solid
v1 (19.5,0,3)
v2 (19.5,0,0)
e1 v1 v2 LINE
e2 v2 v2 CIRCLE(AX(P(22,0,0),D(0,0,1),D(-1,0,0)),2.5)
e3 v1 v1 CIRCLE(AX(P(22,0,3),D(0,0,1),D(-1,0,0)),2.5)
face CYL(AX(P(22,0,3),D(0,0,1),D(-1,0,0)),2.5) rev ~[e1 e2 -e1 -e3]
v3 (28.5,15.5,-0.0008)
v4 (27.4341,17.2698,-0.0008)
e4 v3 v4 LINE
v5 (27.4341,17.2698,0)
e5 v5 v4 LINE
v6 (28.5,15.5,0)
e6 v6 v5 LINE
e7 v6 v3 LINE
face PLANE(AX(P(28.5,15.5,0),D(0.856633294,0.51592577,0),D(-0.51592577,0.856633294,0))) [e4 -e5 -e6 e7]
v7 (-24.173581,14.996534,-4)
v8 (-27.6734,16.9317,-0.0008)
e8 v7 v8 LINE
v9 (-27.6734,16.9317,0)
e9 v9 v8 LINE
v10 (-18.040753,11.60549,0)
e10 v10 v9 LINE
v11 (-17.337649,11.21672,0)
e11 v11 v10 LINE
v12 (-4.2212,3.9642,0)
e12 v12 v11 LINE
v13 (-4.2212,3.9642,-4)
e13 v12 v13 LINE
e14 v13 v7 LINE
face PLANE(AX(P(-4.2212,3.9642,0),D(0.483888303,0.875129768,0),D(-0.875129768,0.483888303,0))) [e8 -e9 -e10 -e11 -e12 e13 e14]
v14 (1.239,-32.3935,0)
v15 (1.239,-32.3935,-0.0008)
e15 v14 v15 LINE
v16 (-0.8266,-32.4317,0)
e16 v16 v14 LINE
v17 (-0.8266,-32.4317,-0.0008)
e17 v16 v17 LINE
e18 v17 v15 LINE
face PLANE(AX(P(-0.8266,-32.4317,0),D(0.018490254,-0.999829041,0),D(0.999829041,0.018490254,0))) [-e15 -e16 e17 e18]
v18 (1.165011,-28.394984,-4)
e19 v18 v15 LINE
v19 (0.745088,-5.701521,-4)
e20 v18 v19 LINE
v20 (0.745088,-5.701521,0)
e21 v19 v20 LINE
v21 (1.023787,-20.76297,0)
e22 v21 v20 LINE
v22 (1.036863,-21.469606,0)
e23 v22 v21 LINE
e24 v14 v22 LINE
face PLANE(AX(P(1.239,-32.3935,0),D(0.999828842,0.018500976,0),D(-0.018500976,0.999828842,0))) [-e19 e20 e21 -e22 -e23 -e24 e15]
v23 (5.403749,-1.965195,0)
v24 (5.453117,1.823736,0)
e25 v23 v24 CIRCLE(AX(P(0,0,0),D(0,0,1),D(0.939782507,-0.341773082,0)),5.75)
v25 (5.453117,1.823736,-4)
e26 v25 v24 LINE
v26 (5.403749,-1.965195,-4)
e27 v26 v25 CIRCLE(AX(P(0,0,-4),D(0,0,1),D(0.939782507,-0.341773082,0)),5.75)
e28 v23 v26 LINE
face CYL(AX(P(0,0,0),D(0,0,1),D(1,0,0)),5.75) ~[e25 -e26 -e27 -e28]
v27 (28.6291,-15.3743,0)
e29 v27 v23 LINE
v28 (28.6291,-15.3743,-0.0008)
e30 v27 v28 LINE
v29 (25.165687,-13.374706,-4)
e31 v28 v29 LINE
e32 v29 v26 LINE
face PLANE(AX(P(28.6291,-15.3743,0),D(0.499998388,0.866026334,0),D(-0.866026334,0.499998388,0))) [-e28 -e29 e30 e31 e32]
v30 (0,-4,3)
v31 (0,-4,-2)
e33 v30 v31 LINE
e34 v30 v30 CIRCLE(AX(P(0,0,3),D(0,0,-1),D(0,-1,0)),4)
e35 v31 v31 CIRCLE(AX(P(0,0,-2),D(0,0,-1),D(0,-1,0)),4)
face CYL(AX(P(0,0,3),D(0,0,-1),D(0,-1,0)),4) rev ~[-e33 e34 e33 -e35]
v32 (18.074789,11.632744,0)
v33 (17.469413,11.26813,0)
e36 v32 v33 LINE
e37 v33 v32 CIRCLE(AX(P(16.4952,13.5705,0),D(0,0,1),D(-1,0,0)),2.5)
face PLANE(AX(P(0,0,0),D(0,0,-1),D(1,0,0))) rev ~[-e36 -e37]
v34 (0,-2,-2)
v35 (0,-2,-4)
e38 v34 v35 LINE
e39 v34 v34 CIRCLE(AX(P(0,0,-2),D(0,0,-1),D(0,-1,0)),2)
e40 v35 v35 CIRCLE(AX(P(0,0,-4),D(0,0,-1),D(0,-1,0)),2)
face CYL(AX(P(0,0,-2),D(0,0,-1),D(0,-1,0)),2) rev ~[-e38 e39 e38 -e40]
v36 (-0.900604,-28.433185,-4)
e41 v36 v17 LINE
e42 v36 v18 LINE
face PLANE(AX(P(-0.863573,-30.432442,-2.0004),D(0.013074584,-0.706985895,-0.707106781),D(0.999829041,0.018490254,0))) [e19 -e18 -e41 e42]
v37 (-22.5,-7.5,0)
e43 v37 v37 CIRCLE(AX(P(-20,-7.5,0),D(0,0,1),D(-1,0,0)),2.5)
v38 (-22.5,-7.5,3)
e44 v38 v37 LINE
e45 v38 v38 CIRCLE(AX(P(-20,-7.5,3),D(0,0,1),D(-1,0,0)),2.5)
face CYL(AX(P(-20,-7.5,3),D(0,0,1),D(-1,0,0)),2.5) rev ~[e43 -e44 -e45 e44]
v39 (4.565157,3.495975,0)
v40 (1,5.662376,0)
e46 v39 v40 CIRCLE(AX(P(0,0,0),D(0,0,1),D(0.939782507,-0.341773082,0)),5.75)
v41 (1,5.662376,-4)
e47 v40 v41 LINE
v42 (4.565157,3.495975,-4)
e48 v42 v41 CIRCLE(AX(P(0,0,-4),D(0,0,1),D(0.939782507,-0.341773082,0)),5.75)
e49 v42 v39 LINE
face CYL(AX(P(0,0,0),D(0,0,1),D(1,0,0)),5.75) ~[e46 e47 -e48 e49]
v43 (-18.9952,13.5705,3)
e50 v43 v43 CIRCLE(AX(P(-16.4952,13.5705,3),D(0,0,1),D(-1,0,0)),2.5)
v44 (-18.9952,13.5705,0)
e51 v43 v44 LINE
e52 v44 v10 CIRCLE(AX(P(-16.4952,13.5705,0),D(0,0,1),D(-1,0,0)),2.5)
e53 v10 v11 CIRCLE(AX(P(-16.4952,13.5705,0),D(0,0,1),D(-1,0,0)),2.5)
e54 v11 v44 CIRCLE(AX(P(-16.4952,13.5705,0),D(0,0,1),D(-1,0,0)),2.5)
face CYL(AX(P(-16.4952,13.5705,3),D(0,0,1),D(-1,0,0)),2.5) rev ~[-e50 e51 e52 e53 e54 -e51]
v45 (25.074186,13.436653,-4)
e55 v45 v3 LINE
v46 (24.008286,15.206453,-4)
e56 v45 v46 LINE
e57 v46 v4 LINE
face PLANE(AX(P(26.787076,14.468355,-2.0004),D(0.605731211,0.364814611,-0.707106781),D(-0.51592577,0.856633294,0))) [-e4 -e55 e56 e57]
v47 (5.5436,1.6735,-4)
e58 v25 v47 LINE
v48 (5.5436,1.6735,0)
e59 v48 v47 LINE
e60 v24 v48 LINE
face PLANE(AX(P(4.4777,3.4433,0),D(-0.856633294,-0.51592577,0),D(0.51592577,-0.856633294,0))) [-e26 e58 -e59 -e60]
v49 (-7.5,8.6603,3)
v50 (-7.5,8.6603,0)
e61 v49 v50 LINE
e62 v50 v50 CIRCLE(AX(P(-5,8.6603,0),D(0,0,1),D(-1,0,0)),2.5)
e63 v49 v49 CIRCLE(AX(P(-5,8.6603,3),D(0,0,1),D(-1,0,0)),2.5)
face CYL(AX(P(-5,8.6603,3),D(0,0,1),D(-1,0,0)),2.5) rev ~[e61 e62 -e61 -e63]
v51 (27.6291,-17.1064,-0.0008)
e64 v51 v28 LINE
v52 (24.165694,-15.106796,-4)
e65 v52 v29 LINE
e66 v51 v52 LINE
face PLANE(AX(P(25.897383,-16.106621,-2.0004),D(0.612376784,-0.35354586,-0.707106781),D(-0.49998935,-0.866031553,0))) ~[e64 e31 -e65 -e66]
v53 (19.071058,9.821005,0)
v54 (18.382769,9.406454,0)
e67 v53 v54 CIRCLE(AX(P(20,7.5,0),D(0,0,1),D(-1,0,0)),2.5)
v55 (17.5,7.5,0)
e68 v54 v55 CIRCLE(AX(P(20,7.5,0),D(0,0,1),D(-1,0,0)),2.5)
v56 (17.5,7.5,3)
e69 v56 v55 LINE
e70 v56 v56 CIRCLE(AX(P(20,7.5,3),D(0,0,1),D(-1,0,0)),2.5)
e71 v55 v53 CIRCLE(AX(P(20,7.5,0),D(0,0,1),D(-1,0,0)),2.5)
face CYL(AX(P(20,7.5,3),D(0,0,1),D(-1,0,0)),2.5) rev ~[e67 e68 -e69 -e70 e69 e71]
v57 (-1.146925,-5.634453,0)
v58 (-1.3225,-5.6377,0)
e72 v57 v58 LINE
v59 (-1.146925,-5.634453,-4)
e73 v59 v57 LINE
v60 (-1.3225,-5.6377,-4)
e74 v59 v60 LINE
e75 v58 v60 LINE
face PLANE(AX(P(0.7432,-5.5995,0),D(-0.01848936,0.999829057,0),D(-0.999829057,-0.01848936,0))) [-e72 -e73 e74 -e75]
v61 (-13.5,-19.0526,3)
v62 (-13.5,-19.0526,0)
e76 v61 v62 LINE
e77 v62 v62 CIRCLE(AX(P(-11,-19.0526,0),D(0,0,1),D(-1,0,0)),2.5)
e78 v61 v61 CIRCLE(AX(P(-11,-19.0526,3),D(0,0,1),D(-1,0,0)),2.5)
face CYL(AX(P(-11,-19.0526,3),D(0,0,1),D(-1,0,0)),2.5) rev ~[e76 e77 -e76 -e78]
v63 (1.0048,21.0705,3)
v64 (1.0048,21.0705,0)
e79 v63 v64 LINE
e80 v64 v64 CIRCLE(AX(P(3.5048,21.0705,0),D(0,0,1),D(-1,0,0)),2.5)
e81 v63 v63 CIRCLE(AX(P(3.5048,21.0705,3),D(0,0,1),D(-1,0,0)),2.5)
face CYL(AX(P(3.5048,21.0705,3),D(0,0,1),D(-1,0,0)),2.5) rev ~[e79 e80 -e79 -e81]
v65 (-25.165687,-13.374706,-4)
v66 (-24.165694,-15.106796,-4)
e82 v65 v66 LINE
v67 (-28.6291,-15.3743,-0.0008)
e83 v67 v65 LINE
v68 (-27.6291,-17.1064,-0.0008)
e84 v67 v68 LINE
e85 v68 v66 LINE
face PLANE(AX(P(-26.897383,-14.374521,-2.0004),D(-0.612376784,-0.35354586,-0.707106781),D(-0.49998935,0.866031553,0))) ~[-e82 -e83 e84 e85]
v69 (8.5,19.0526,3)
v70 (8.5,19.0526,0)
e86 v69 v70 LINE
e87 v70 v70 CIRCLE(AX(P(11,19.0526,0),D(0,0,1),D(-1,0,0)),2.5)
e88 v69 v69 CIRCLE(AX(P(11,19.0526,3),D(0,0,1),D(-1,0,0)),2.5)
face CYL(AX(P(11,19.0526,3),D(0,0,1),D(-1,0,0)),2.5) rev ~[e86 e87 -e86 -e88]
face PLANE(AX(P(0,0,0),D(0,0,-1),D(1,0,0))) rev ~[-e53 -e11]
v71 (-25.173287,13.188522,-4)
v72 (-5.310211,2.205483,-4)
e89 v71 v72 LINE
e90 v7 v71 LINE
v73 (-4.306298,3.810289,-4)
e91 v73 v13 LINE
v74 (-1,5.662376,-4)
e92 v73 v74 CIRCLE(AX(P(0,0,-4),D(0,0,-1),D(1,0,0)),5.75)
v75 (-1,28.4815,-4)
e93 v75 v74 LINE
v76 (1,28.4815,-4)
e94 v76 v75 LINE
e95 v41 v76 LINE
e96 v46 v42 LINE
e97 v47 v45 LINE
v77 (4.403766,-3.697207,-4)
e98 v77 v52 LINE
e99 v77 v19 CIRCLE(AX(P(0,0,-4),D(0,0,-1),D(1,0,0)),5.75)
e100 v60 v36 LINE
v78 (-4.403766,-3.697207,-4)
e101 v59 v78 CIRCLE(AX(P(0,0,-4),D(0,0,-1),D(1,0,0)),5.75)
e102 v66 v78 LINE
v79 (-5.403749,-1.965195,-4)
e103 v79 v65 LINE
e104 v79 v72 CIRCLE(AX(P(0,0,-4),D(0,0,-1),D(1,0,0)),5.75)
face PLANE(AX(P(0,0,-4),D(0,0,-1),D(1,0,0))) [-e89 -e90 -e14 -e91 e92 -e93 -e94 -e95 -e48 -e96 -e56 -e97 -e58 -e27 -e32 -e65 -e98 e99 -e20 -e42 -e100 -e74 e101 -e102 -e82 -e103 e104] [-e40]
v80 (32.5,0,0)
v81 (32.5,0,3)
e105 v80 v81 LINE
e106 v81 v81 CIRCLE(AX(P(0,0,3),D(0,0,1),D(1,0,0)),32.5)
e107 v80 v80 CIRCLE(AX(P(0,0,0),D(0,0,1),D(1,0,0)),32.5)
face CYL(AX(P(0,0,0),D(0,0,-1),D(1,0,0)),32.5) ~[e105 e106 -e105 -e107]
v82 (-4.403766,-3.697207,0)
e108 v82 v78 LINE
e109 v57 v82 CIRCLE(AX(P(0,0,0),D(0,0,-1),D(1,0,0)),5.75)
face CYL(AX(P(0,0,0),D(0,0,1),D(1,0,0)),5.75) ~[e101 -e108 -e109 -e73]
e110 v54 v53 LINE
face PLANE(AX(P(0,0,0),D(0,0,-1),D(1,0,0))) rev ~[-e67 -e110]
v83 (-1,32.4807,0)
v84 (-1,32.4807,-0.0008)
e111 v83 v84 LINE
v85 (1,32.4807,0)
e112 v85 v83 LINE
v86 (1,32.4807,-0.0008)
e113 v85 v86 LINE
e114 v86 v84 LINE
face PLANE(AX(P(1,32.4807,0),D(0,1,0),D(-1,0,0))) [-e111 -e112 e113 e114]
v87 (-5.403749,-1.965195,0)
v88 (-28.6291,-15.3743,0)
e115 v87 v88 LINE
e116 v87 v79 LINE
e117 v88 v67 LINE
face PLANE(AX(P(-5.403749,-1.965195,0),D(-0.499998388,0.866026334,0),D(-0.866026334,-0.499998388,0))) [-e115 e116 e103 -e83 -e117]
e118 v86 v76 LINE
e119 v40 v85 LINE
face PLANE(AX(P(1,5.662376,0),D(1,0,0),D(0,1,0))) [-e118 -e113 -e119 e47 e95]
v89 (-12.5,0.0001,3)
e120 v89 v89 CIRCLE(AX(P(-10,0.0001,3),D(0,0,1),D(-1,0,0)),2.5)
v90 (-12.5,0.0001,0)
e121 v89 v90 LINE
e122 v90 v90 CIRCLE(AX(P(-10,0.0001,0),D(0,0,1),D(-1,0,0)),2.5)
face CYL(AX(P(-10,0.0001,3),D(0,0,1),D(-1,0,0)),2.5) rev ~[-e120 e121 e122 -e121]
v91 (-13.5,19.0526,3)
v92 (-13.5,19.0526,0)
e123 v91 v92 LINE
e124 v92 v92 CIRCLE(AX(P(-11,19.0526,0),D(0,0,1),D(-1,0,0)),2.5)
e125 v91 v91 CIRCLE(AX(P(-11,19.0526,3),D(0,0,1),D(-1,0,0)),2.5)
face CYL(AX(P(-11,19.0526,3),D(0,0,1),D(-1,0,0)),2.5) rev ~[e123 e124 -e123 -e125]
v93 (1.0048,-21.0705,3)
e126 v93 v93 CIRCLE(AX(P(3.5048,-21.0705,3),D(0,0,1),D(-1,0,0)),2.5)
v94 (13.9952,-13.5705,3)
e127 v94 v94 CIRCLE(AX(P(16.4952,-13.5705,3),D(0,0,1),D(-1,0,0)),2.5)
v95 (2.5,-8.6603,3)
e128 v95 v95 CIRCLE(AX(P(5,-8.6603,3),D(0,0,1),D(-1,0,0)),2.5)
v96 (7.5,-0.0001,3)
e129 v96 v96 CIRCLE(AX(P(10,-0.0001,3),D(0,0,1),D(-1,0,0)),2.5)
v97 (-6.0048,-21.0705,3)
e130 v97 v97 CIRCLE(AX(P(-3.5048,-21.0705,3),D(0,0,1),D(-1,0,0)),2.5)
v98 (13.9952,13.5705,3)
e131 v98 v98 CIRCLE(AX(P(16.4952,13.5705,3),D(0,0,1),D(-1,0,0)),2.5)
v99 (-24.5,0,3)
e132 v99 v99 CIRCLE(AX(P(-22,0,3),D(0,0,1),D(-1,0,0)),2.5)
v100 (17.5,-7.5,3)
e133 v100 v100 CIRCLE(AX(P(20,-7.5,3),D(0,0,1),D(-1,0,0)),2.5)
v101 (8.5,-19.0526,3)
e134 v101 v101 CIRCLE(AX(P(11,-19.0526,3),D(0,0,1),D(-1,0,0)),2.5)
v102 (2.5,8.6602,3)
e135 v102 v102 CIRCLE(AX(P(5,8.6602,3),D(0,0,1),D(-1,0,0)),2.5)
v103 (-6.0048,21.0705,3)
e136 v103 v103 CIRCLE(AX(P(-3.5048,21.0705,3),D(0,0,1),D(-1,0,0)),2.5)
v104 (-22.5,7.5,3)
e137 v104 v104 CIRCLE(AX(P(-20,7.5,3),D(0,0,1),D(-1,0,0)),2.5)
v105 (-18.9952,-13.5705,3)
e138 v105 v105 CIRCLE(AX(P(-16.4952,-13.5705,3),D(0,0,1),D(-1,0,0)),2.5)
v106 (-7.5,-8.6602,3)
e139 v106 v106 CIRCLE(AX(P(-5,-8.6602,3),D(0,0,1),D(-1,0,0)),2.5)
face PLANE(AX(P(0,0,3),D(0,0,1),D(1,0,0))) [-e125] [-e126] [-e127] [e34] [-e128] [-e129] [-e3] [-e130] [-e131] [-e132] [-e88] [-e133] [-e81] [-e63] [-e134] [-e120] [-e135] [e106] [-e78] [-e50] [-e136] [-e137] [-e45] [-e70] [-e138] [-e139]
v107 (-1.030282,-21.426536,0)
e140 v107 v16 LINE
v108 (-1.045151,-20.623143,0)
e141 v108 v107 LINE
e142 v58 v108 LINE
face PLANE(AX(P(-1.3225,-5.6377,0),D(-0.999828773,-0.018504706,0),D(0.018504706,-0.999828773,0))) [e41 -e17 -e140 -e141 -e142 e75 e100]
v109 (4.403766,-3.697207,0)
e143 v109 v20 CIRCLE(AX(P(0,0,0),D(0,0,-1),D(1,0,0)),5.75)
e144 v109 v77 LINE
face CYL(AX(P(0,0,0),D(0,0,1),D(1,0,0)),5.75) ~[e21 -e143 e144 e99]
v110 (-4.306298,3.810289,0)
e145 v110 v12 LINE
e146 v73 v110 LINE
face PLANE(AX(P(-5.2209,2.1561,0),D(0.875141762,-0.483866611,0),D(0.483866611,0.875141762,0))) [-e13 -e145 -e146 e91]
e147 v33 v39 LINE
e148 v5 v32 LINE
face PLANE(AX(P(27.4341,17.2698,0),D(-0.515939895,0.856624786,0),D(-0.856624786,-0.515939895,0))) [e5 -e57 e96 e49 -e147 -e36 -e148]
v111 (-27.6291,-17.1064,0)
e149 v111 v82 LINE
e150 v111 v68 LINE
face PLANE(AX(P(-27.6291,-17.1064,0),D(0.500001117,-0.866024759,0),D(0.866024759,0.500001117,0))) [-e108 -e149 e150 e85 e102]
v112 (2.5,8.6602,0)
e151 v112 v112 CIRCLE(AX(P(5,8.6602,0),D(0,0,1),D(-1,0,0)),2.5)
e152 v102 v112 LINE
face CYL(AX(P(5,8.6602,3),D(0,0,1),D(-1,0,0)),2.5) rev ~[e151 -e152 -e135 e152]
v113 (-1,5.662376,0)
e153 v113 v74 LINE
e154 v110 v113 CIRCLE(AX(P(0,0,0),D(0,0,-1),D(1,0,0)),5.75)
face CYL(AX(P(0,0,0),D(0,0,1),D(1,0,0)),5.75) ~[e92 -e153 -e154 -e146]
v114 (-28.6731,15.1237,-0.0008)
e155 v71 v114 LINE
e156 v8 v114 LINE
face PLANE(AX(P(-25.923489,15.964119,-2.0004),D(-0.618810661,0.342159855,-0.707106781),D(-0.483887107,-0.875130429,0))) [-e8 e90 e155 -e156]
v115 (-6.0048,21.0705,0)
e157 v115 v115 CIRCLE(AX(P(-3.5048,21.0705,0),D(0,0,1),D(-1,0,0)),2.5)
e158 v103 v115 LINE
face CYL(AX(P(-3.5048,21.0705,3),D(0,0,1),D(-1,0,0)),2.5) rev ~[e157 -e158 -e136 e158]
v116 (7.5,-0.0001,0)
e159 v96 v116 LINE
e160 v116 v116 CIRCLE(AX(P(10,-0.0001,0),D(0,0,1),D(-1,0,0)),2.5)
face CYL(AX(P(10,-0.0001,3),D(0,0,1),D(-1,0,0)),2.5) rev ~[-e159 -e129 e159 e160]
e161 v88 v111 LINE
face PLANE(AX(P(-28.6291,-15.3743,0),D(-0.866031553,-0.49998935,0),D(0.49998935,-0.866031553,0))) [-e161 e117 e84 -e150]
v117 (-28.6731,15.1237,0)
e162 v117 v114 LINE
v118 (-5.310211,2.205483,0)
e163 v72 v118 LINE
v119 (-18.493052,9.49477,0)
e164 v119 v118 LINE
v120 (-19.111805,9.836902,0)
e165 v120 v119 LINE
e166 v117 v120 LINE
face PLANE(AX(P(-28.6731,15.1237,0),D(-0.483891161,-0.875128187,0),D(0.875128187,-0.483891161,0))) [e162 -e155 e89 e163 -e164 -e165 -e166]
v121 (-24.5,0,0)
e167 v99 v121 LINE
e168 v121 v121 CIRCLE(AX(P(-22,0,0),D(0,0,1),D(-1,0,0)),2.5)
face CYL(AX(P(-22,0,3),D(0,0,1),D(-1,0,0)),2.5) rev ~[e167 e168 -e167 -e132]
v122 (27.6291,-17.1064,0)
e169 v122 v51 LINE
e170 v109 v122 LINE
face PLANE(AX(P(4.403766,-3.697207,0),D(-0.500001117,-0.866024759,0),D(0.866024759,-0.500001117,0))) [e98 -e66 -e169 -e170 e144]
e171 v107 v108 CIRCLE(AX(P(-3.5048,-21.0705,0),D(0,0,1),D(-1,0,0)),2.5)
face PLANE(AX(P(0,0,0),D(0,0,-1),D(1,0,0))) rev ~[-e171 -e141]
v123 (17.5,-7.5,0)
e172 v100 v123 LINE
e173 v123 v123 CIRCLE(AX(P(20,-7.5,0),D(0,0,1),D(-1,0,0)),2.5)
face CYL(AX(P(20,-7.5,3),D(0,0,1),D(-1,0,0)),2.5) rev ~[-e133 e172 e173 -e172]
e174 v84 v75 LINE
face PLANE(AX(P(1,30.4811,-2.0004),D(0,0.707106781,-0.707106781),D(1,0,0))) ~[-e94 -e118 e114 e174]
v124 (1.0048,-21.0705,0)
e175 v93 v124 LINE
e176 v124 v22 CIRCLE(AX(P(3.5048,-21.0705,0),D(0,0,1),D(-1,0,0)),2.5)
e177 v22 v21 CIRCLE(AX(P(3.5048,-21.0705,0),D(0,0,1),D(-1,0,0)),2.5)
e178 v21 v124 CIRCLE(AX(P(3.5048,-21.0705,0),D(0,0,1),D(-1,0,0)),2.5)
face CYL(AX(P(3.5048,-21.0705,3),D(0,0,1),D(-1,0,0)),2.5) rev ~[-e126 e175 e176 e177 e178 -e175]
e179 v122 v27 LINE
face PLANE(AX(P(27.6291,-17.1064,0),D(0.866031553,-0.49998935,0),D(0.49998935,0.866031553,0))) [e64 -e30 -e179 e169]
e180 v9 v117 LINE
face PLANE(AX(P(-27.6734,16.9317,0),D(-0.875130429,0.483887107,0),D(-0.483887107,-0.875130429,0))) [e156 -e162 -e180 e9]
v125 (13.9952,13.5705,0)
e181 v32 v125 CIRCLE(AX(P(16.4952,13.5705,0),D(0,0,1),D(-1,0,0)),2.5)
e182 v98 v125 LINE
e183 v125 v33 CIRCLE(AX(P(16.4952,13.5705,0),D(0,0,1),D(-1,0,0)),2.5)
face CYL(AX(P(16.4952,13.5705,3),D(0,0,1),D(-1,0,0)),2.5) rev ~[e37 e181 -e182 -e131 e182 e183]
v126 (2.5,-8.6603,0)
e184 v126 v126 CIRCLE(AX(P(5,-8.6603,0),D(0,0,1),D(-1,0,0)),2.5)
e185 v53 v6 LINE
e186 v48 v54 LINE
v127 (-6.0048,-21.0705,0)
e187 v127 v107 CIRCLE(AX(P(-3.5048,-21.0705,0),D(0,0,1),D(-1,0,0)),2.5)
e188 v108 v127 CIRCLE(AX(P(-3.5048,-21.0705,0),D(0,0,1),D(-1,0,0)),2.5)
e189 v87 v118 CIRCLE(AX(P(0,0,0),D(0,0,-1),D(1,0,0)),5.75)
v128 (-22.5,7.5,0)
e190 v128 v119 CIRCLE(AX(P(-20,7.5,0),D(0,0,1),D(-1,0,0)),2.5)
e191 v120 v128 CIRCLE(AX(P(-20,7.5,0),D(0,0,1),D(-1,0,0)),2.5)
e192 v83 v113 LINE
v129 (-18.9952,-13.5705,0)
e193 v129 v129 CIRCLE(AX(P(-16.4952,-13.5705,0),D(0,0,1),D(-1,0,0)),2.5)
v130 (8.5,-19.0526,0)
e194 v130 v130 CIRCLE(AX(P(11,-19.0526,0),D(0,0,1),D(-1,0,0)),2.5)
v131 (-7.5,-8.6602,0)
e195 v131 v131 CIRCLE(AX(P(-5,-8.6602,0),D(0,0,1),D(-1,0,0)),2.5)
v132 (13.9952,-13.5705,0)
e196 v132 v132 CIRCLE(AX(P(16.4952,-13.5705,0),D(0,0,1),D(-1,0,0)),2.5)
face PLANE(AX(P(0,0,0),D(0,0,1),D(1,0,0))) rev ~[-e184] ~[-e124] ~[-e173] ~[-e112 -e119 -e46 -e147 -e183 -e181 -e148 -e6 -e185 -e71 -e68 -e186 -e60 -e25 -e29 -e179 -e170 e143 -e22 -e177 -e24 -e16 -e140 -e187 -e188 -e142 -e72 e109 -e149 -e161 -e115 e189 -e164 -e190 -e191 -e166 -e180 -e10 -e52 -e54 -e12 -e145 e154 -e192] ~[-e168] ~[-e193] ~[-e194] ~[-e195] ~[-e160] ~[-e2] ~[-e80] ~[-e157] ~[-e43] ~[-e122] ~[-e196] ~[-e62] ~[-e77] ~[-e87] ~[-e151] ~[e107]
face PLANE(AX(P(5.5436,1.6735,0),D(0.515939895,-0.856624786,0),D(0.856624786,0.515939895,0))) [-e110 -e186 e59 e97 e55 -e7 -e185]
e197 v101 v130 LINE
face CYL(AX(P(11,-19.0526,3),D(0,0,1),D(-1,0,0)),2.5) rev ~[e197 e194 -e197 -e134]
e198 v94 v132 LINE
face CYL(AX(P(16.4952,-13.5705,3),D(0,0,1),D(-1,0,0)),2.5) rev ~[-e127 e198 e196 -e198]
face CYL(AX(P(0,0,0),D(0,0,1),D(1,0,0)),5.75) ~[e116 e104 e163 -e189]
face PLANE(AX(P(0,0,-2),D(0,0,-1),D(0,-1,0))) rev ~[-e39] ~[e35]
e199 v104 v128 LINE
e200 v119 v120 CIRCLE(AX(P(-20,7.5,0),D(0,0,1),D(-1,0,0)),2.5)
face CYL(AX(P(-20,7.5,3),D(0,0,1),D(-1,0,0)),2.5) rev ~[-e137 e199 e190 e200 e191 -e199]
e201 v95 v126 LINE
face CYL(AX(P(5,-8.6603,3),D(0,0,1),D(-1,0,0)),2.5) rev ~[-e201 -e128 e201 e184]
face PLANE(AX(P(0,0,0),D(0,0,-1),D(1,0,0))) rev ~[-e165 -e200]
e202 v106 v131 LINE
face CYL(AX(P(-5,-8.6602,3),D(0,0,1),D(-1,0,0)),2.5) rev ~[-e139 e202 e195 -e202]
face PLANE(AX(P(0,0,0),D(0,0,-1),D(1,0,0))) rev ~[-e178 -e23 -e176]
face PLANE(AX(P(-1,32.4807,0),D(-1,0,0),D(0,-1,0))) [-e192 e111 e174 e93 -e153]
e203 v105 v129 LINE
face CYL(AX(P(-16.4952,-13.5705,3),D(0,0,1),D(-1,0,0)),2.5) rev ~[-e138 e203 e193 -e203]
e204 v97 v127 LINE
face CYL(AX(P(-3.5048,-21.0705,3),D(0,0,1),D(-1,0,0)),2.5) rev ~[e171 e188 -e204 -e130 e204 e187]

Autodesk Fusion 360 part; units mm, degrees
sketch "Skizze1" plane through (0, 0, 0) normal (0, 0, 1) x (1, 0, 0)
  circle A0 centre (0, 0) radius 32.5
  dimension "d1" = 65
extrude "Extrusion1" add sketch "Skizze1" along normal blind 3
sketch "Skizze2" plane through (0, 0, 0) normal (0, 0, -1) x (1, 0, 0)
  circle A0 centre (0, 0) radius 32.5
  circle A1 centre (0, 0) radius 5.75
  dimension "d4" = 11.5
extrude "Extrusion2" add sketch "Skizze2" along normal blind 4 contours A1
hole "Bohrung1" at (0, 0, 3) direction (0, 0, -1) diameter 4 depth 99 tip angle 118 counterbore diameter 8 counterbore depth 5
sketch "Skizze3" plane through (0, 0, 3) normal (0, 0, 1) x (-1, 0, 0)
  circle A0 centre (0, 0) radius 4
  circle A1 centre (0, 0) radius 32.5
  circle A2 centre (-10, 0.0001) radius 2.5
  circle A3 centre (-22, 0) radius 2.5
  circle A4 centre (-20, 7.5) radius 2.5
  circle A5 centre (-20, -7.5) radius 2.5
  circle A6 centre (-5, -8.6602) radius 2.5
  circle A7 centre (-16.4952, -13.5705) radius 2.5
  circle A8 centre (-11, -19.0526) radius 2.5
  circle A9 centre (-3.5048, -21.0705) radius 2.5
  circle A10 centre (5, -8.6603) radius 2.5
  circle A11 centre (3.5048, -21.0705) radius 2.5
  circle A12 centre (11, -19.0526) radius 2.5
  circle A13 centre (16.4952, -13.5705) radius 2.5
  circle A14 centre (10, -0.0001) radius 2.5
  circle A15 centre (20, -7.5) radius 2.5
  circle A16 centre (22, 0) radius 2.5
  circle A17 centre (20, 7.5) radius 2.5
  circle A18 centre (5, 8.6602) radius 2.5
  circle A19 centre (16.4952, 13.5705) radius 2.5
  circle A20 centre (11, 19.0526) radius 2.5
  circle A21 centre (3.5048, 21.0705) radius 2.5
  circle A22 centre (-5, 8.6603) radius 2.5
  circle A23 centre (-3.5048, 21.0705) radius 2.5
  circle A24 centre (-11, 19.0526) radius 2.5
  circle A25 centre (-16.4952, 13.5705) radius 2.5
  dimension "d12" = 5
  dimension "d13" = 10
  dimension "d14" = 5
  dimension "d15" = 12
  dimension "d18" = 5
  dimension "d19" = 5
  dimension "d21" = 360
extrude "Extrusion3" cut sketch "Skizze3" against normal blind 26 contours A2 | A3 | A4 | A5 | A6 | A7 | A8 | A9 | A10 | A11 | A12 | A13 | A14 | A15 | A16 | A17 | A18 | A19 | A20 | A21 | A22 | A23 | A24 | A25
sketch "Skizze4" plane through (0, 0, 0) normal (0, 0, -1) x (1, 0, 0)
  circle A0 centre (3.5048, -21.0705) radius 2.5
  circle A1 centre (22, 0) radius 2.5
  circle A2 centre (11, 19.0526) radius 2.5
  circle A3 centre (-5, -8.6603) radius 2.5
  circle A4 centre (-22, 0) radius 2.5
  circle A5 centre (-11, 19.0526) radius 2.5
  circle A6 centre (-5, 8.6602) radius 2.5
  circle A7 centre (-10, -0.0001) radius 2.5
  circle A8 centre (5, -8.6602) radius 2.5
  circle A9 centre (16.4952, 13.5705) radius 2.5
  circle A10 centre (20, -7.5) radius 2.5
  circle A11 centre (-3.5048, -21.0705) radius 2.5
  circle A12 centre (11, -19.0526) radius 2.5
  circle A13 centre (20, 7.5) radius 2.5
  circle A14 centre (10, 0.0001) radius 2.5
  circle A15 centre (-11, -19.0526) radius 2.5
  circle A16 centre (-20, 7.5) radius 2.5
  circle A17 centre (-3.5048, 21.0705) radius 2.5
  circle A18 centre (-16.4952, 13.5705) radius 2.5
  circle A19 centre (-16.4952, -13.5705) radius 2.5
  circle A20 centre (-20, -7.5) radius 2.5
  circle A21 centre (3.5048, 21.0705) radius 2.5
  circle A22 centre (16.4952, -13.5705) radius 2.5
  circle A23 centre (5, 8.6603) radius 2.5
  circle A24 centre (0, 0) radius 5.75
  circle A25 centre (0, 0) radius 32.5
  line L0 (1, -32.4807) -> (-1, -32.4807)
  line L1 (-1, -32.4807) -> (-1, -5)
  line L2 (-1, -5) -> (1, -5)
  line L3 (1, -5) -> (1, -32.4807)
  line L4 (28.6291, 15.3743) -> (4.8301, 1.634)
  line L5 (3.8301, 3.366) -> (27.6291, 17.1064)
  line L6 (27.6291, 17.1064) -> (28.6291, 15.3743)
  line L7 (4.8301, 1.634) -> (3.8301, 3.366)
  line L8 (-27.6291, 17.1064) -> (-3.8301, 3.366)
  line L9 (-4.8301, 1.634) -> (-28.6291, 15.3743)
  line L10 (-28.6291, 15.3743) -> (-27.6291, 17.1064)
  line L11 (-3.8301, 3.366) -> (-4.8301, 1.634)
  dimension "d25" = 360
extrude "Extrusion4" add sketch "Skizze4" along normal blind 4 contours A24 L4 L5 L6 | A24 L0 L1 L3 | A24 L8 L9 L10
chamfer "Fase1" distance 4 angle 45 3 edges at (0, 32.4807, -4) (28.1291, -16.2404, -4) (-28.1291, -16.2404, -4)
sketch "Skizze5" plane through (0, 0, 0) normal (0, 0, -1) x (1, 0, 0)
  circle A0 centre (3.5048, -21.0705) radius 2.5
  circle A1 centre (22, 0) radius 2.5
  circle A2 centre (11, 19.0526) radius 2.5
  circle A3 centre (-5, -8.6603) radius 2.5
  circle A4 centre (-22, 0) radius 2.5
  circle A5 centre (-11, 19.0526) radius 2.5
  circle A6 centre (-5, 8.6602) radius 2.5
  circle A7 centre (-10, -0.0001) radius 2.5
  circle A8 centre (5, -8.6602) radius 2.5
  circle A9 centre (16.4952, 13.5705) radius 2.5
  circle A10 centre (20, -7.5) radius 2.5
  circle A11 centre (-3.5048, -21.0705) radius 2.5
  circle A12 centre (11, -19.0526) radius 2.5
  circle A13 centre (20, 7.5) radius 2.5
  circle A14 centre (10, 0.0001) radius 2.5
  circle A15 centre (-11, -19.0526) radius 2.5
  circle A16 centre (-20, 7.5) radius 2.5
  circle A17 centre (-3.5048, 21.0705) radius 2.5
  circle A18 centre (-16.4952, 13.5705) radius 2.5
  circle A19 centre (-16.4952, -13.5705) radius 2.5
  circle A20 centre (-20, -7.5) radius 2.5
  circle A21 centre (3.5048, 21.0705) radius 2.5
  circle A22 centre (16.4952, -13.5705) radius 2.5
  circle A23 centre (5, 8.6603) radius 2.5
  circle A24 centre (0, 0) radius 32.5
  line L0 (-5.4038, 1.9652) -> (-28.6291, 15.3743)
  line L1 (-28.6291, 15.3743) -> (-27.6291, 17.1064)
  line L2 (-27.6291, 17.1064) -> (-4.4038, 3.6972)
  arc A25 (4.4038, 3.6972) -> (-4.4038, 3.6972) centre (0, 0) ccw
  line L3 (4.4038, 3.6972) -> (27.6291, 17.1064)
  line L4 (27.6291, 17.1064) -> (28.6291, 15.3743)
  line L5 (28.6291, 15.3743) -> (5.4038, 1.9652)
  arc A26 (1, -5.6624) -> (5.4038, 1.9652) centre (0, 0) ccw
  line L6 (1, -5.6624) -> (1, -32.4807)
  line L7 (1, -32.4807) -> (-1, -32.4807)
  line L8 (-1, -32.4807) -> (-1, -5.6624)
  arc A27 (-5.4038, 1.9652) -> (-1, -5.6624) centre (0, 0) ccw
sketch "Skizze6" plane through (0, 0, 0) normal (0, 0, -1) x (1, 0, 0)
  line L0 (5.5436, -1.6735) -> (28.5, -15.5)
  line L1 (28.5, -15.5) -> (27.4341, -17.2698)
  line L2 (27.4341, -17.2698) -> (4.4777, -3.4433)
  line L3 (4.4777, -3.4433) -> (5.5436, -1.6735)
  line L4 (-1.3225, 5.6377) -> (-0.8266, 32.4317)
  line L5 (1.239, 32.3935) -> (0.7432, 5.5995)
  line L6 (0.7432, 5.5995) -> (-1.3225, 5.6377)
  line L7 (-0.8266, 32.4317) -> (1.239, 32.3935)
  line L8 (-4.2212, -3.9642) -> (-27.6734, -16.9317)
  line L9 (-28.6731, -15.1237) -> (-5.2209, -2.1561)
  line L10 (-5.2209, -2.1561) -> (-4.2212, -3.9642)
  line L11 (-27.6734, -16.9317) -> (-28.6731, -15.1237)
  dimension "d30" = 360
extrude "Extrusion5" add sketch "Skizze6" along normal blind 4
chamfer "Fase2" distance 4 angle 45 3 edges at (-28.1733, 16.0277, -4) (27.967, 16.3849, -4) (0.2062, -32.4126, -4)
